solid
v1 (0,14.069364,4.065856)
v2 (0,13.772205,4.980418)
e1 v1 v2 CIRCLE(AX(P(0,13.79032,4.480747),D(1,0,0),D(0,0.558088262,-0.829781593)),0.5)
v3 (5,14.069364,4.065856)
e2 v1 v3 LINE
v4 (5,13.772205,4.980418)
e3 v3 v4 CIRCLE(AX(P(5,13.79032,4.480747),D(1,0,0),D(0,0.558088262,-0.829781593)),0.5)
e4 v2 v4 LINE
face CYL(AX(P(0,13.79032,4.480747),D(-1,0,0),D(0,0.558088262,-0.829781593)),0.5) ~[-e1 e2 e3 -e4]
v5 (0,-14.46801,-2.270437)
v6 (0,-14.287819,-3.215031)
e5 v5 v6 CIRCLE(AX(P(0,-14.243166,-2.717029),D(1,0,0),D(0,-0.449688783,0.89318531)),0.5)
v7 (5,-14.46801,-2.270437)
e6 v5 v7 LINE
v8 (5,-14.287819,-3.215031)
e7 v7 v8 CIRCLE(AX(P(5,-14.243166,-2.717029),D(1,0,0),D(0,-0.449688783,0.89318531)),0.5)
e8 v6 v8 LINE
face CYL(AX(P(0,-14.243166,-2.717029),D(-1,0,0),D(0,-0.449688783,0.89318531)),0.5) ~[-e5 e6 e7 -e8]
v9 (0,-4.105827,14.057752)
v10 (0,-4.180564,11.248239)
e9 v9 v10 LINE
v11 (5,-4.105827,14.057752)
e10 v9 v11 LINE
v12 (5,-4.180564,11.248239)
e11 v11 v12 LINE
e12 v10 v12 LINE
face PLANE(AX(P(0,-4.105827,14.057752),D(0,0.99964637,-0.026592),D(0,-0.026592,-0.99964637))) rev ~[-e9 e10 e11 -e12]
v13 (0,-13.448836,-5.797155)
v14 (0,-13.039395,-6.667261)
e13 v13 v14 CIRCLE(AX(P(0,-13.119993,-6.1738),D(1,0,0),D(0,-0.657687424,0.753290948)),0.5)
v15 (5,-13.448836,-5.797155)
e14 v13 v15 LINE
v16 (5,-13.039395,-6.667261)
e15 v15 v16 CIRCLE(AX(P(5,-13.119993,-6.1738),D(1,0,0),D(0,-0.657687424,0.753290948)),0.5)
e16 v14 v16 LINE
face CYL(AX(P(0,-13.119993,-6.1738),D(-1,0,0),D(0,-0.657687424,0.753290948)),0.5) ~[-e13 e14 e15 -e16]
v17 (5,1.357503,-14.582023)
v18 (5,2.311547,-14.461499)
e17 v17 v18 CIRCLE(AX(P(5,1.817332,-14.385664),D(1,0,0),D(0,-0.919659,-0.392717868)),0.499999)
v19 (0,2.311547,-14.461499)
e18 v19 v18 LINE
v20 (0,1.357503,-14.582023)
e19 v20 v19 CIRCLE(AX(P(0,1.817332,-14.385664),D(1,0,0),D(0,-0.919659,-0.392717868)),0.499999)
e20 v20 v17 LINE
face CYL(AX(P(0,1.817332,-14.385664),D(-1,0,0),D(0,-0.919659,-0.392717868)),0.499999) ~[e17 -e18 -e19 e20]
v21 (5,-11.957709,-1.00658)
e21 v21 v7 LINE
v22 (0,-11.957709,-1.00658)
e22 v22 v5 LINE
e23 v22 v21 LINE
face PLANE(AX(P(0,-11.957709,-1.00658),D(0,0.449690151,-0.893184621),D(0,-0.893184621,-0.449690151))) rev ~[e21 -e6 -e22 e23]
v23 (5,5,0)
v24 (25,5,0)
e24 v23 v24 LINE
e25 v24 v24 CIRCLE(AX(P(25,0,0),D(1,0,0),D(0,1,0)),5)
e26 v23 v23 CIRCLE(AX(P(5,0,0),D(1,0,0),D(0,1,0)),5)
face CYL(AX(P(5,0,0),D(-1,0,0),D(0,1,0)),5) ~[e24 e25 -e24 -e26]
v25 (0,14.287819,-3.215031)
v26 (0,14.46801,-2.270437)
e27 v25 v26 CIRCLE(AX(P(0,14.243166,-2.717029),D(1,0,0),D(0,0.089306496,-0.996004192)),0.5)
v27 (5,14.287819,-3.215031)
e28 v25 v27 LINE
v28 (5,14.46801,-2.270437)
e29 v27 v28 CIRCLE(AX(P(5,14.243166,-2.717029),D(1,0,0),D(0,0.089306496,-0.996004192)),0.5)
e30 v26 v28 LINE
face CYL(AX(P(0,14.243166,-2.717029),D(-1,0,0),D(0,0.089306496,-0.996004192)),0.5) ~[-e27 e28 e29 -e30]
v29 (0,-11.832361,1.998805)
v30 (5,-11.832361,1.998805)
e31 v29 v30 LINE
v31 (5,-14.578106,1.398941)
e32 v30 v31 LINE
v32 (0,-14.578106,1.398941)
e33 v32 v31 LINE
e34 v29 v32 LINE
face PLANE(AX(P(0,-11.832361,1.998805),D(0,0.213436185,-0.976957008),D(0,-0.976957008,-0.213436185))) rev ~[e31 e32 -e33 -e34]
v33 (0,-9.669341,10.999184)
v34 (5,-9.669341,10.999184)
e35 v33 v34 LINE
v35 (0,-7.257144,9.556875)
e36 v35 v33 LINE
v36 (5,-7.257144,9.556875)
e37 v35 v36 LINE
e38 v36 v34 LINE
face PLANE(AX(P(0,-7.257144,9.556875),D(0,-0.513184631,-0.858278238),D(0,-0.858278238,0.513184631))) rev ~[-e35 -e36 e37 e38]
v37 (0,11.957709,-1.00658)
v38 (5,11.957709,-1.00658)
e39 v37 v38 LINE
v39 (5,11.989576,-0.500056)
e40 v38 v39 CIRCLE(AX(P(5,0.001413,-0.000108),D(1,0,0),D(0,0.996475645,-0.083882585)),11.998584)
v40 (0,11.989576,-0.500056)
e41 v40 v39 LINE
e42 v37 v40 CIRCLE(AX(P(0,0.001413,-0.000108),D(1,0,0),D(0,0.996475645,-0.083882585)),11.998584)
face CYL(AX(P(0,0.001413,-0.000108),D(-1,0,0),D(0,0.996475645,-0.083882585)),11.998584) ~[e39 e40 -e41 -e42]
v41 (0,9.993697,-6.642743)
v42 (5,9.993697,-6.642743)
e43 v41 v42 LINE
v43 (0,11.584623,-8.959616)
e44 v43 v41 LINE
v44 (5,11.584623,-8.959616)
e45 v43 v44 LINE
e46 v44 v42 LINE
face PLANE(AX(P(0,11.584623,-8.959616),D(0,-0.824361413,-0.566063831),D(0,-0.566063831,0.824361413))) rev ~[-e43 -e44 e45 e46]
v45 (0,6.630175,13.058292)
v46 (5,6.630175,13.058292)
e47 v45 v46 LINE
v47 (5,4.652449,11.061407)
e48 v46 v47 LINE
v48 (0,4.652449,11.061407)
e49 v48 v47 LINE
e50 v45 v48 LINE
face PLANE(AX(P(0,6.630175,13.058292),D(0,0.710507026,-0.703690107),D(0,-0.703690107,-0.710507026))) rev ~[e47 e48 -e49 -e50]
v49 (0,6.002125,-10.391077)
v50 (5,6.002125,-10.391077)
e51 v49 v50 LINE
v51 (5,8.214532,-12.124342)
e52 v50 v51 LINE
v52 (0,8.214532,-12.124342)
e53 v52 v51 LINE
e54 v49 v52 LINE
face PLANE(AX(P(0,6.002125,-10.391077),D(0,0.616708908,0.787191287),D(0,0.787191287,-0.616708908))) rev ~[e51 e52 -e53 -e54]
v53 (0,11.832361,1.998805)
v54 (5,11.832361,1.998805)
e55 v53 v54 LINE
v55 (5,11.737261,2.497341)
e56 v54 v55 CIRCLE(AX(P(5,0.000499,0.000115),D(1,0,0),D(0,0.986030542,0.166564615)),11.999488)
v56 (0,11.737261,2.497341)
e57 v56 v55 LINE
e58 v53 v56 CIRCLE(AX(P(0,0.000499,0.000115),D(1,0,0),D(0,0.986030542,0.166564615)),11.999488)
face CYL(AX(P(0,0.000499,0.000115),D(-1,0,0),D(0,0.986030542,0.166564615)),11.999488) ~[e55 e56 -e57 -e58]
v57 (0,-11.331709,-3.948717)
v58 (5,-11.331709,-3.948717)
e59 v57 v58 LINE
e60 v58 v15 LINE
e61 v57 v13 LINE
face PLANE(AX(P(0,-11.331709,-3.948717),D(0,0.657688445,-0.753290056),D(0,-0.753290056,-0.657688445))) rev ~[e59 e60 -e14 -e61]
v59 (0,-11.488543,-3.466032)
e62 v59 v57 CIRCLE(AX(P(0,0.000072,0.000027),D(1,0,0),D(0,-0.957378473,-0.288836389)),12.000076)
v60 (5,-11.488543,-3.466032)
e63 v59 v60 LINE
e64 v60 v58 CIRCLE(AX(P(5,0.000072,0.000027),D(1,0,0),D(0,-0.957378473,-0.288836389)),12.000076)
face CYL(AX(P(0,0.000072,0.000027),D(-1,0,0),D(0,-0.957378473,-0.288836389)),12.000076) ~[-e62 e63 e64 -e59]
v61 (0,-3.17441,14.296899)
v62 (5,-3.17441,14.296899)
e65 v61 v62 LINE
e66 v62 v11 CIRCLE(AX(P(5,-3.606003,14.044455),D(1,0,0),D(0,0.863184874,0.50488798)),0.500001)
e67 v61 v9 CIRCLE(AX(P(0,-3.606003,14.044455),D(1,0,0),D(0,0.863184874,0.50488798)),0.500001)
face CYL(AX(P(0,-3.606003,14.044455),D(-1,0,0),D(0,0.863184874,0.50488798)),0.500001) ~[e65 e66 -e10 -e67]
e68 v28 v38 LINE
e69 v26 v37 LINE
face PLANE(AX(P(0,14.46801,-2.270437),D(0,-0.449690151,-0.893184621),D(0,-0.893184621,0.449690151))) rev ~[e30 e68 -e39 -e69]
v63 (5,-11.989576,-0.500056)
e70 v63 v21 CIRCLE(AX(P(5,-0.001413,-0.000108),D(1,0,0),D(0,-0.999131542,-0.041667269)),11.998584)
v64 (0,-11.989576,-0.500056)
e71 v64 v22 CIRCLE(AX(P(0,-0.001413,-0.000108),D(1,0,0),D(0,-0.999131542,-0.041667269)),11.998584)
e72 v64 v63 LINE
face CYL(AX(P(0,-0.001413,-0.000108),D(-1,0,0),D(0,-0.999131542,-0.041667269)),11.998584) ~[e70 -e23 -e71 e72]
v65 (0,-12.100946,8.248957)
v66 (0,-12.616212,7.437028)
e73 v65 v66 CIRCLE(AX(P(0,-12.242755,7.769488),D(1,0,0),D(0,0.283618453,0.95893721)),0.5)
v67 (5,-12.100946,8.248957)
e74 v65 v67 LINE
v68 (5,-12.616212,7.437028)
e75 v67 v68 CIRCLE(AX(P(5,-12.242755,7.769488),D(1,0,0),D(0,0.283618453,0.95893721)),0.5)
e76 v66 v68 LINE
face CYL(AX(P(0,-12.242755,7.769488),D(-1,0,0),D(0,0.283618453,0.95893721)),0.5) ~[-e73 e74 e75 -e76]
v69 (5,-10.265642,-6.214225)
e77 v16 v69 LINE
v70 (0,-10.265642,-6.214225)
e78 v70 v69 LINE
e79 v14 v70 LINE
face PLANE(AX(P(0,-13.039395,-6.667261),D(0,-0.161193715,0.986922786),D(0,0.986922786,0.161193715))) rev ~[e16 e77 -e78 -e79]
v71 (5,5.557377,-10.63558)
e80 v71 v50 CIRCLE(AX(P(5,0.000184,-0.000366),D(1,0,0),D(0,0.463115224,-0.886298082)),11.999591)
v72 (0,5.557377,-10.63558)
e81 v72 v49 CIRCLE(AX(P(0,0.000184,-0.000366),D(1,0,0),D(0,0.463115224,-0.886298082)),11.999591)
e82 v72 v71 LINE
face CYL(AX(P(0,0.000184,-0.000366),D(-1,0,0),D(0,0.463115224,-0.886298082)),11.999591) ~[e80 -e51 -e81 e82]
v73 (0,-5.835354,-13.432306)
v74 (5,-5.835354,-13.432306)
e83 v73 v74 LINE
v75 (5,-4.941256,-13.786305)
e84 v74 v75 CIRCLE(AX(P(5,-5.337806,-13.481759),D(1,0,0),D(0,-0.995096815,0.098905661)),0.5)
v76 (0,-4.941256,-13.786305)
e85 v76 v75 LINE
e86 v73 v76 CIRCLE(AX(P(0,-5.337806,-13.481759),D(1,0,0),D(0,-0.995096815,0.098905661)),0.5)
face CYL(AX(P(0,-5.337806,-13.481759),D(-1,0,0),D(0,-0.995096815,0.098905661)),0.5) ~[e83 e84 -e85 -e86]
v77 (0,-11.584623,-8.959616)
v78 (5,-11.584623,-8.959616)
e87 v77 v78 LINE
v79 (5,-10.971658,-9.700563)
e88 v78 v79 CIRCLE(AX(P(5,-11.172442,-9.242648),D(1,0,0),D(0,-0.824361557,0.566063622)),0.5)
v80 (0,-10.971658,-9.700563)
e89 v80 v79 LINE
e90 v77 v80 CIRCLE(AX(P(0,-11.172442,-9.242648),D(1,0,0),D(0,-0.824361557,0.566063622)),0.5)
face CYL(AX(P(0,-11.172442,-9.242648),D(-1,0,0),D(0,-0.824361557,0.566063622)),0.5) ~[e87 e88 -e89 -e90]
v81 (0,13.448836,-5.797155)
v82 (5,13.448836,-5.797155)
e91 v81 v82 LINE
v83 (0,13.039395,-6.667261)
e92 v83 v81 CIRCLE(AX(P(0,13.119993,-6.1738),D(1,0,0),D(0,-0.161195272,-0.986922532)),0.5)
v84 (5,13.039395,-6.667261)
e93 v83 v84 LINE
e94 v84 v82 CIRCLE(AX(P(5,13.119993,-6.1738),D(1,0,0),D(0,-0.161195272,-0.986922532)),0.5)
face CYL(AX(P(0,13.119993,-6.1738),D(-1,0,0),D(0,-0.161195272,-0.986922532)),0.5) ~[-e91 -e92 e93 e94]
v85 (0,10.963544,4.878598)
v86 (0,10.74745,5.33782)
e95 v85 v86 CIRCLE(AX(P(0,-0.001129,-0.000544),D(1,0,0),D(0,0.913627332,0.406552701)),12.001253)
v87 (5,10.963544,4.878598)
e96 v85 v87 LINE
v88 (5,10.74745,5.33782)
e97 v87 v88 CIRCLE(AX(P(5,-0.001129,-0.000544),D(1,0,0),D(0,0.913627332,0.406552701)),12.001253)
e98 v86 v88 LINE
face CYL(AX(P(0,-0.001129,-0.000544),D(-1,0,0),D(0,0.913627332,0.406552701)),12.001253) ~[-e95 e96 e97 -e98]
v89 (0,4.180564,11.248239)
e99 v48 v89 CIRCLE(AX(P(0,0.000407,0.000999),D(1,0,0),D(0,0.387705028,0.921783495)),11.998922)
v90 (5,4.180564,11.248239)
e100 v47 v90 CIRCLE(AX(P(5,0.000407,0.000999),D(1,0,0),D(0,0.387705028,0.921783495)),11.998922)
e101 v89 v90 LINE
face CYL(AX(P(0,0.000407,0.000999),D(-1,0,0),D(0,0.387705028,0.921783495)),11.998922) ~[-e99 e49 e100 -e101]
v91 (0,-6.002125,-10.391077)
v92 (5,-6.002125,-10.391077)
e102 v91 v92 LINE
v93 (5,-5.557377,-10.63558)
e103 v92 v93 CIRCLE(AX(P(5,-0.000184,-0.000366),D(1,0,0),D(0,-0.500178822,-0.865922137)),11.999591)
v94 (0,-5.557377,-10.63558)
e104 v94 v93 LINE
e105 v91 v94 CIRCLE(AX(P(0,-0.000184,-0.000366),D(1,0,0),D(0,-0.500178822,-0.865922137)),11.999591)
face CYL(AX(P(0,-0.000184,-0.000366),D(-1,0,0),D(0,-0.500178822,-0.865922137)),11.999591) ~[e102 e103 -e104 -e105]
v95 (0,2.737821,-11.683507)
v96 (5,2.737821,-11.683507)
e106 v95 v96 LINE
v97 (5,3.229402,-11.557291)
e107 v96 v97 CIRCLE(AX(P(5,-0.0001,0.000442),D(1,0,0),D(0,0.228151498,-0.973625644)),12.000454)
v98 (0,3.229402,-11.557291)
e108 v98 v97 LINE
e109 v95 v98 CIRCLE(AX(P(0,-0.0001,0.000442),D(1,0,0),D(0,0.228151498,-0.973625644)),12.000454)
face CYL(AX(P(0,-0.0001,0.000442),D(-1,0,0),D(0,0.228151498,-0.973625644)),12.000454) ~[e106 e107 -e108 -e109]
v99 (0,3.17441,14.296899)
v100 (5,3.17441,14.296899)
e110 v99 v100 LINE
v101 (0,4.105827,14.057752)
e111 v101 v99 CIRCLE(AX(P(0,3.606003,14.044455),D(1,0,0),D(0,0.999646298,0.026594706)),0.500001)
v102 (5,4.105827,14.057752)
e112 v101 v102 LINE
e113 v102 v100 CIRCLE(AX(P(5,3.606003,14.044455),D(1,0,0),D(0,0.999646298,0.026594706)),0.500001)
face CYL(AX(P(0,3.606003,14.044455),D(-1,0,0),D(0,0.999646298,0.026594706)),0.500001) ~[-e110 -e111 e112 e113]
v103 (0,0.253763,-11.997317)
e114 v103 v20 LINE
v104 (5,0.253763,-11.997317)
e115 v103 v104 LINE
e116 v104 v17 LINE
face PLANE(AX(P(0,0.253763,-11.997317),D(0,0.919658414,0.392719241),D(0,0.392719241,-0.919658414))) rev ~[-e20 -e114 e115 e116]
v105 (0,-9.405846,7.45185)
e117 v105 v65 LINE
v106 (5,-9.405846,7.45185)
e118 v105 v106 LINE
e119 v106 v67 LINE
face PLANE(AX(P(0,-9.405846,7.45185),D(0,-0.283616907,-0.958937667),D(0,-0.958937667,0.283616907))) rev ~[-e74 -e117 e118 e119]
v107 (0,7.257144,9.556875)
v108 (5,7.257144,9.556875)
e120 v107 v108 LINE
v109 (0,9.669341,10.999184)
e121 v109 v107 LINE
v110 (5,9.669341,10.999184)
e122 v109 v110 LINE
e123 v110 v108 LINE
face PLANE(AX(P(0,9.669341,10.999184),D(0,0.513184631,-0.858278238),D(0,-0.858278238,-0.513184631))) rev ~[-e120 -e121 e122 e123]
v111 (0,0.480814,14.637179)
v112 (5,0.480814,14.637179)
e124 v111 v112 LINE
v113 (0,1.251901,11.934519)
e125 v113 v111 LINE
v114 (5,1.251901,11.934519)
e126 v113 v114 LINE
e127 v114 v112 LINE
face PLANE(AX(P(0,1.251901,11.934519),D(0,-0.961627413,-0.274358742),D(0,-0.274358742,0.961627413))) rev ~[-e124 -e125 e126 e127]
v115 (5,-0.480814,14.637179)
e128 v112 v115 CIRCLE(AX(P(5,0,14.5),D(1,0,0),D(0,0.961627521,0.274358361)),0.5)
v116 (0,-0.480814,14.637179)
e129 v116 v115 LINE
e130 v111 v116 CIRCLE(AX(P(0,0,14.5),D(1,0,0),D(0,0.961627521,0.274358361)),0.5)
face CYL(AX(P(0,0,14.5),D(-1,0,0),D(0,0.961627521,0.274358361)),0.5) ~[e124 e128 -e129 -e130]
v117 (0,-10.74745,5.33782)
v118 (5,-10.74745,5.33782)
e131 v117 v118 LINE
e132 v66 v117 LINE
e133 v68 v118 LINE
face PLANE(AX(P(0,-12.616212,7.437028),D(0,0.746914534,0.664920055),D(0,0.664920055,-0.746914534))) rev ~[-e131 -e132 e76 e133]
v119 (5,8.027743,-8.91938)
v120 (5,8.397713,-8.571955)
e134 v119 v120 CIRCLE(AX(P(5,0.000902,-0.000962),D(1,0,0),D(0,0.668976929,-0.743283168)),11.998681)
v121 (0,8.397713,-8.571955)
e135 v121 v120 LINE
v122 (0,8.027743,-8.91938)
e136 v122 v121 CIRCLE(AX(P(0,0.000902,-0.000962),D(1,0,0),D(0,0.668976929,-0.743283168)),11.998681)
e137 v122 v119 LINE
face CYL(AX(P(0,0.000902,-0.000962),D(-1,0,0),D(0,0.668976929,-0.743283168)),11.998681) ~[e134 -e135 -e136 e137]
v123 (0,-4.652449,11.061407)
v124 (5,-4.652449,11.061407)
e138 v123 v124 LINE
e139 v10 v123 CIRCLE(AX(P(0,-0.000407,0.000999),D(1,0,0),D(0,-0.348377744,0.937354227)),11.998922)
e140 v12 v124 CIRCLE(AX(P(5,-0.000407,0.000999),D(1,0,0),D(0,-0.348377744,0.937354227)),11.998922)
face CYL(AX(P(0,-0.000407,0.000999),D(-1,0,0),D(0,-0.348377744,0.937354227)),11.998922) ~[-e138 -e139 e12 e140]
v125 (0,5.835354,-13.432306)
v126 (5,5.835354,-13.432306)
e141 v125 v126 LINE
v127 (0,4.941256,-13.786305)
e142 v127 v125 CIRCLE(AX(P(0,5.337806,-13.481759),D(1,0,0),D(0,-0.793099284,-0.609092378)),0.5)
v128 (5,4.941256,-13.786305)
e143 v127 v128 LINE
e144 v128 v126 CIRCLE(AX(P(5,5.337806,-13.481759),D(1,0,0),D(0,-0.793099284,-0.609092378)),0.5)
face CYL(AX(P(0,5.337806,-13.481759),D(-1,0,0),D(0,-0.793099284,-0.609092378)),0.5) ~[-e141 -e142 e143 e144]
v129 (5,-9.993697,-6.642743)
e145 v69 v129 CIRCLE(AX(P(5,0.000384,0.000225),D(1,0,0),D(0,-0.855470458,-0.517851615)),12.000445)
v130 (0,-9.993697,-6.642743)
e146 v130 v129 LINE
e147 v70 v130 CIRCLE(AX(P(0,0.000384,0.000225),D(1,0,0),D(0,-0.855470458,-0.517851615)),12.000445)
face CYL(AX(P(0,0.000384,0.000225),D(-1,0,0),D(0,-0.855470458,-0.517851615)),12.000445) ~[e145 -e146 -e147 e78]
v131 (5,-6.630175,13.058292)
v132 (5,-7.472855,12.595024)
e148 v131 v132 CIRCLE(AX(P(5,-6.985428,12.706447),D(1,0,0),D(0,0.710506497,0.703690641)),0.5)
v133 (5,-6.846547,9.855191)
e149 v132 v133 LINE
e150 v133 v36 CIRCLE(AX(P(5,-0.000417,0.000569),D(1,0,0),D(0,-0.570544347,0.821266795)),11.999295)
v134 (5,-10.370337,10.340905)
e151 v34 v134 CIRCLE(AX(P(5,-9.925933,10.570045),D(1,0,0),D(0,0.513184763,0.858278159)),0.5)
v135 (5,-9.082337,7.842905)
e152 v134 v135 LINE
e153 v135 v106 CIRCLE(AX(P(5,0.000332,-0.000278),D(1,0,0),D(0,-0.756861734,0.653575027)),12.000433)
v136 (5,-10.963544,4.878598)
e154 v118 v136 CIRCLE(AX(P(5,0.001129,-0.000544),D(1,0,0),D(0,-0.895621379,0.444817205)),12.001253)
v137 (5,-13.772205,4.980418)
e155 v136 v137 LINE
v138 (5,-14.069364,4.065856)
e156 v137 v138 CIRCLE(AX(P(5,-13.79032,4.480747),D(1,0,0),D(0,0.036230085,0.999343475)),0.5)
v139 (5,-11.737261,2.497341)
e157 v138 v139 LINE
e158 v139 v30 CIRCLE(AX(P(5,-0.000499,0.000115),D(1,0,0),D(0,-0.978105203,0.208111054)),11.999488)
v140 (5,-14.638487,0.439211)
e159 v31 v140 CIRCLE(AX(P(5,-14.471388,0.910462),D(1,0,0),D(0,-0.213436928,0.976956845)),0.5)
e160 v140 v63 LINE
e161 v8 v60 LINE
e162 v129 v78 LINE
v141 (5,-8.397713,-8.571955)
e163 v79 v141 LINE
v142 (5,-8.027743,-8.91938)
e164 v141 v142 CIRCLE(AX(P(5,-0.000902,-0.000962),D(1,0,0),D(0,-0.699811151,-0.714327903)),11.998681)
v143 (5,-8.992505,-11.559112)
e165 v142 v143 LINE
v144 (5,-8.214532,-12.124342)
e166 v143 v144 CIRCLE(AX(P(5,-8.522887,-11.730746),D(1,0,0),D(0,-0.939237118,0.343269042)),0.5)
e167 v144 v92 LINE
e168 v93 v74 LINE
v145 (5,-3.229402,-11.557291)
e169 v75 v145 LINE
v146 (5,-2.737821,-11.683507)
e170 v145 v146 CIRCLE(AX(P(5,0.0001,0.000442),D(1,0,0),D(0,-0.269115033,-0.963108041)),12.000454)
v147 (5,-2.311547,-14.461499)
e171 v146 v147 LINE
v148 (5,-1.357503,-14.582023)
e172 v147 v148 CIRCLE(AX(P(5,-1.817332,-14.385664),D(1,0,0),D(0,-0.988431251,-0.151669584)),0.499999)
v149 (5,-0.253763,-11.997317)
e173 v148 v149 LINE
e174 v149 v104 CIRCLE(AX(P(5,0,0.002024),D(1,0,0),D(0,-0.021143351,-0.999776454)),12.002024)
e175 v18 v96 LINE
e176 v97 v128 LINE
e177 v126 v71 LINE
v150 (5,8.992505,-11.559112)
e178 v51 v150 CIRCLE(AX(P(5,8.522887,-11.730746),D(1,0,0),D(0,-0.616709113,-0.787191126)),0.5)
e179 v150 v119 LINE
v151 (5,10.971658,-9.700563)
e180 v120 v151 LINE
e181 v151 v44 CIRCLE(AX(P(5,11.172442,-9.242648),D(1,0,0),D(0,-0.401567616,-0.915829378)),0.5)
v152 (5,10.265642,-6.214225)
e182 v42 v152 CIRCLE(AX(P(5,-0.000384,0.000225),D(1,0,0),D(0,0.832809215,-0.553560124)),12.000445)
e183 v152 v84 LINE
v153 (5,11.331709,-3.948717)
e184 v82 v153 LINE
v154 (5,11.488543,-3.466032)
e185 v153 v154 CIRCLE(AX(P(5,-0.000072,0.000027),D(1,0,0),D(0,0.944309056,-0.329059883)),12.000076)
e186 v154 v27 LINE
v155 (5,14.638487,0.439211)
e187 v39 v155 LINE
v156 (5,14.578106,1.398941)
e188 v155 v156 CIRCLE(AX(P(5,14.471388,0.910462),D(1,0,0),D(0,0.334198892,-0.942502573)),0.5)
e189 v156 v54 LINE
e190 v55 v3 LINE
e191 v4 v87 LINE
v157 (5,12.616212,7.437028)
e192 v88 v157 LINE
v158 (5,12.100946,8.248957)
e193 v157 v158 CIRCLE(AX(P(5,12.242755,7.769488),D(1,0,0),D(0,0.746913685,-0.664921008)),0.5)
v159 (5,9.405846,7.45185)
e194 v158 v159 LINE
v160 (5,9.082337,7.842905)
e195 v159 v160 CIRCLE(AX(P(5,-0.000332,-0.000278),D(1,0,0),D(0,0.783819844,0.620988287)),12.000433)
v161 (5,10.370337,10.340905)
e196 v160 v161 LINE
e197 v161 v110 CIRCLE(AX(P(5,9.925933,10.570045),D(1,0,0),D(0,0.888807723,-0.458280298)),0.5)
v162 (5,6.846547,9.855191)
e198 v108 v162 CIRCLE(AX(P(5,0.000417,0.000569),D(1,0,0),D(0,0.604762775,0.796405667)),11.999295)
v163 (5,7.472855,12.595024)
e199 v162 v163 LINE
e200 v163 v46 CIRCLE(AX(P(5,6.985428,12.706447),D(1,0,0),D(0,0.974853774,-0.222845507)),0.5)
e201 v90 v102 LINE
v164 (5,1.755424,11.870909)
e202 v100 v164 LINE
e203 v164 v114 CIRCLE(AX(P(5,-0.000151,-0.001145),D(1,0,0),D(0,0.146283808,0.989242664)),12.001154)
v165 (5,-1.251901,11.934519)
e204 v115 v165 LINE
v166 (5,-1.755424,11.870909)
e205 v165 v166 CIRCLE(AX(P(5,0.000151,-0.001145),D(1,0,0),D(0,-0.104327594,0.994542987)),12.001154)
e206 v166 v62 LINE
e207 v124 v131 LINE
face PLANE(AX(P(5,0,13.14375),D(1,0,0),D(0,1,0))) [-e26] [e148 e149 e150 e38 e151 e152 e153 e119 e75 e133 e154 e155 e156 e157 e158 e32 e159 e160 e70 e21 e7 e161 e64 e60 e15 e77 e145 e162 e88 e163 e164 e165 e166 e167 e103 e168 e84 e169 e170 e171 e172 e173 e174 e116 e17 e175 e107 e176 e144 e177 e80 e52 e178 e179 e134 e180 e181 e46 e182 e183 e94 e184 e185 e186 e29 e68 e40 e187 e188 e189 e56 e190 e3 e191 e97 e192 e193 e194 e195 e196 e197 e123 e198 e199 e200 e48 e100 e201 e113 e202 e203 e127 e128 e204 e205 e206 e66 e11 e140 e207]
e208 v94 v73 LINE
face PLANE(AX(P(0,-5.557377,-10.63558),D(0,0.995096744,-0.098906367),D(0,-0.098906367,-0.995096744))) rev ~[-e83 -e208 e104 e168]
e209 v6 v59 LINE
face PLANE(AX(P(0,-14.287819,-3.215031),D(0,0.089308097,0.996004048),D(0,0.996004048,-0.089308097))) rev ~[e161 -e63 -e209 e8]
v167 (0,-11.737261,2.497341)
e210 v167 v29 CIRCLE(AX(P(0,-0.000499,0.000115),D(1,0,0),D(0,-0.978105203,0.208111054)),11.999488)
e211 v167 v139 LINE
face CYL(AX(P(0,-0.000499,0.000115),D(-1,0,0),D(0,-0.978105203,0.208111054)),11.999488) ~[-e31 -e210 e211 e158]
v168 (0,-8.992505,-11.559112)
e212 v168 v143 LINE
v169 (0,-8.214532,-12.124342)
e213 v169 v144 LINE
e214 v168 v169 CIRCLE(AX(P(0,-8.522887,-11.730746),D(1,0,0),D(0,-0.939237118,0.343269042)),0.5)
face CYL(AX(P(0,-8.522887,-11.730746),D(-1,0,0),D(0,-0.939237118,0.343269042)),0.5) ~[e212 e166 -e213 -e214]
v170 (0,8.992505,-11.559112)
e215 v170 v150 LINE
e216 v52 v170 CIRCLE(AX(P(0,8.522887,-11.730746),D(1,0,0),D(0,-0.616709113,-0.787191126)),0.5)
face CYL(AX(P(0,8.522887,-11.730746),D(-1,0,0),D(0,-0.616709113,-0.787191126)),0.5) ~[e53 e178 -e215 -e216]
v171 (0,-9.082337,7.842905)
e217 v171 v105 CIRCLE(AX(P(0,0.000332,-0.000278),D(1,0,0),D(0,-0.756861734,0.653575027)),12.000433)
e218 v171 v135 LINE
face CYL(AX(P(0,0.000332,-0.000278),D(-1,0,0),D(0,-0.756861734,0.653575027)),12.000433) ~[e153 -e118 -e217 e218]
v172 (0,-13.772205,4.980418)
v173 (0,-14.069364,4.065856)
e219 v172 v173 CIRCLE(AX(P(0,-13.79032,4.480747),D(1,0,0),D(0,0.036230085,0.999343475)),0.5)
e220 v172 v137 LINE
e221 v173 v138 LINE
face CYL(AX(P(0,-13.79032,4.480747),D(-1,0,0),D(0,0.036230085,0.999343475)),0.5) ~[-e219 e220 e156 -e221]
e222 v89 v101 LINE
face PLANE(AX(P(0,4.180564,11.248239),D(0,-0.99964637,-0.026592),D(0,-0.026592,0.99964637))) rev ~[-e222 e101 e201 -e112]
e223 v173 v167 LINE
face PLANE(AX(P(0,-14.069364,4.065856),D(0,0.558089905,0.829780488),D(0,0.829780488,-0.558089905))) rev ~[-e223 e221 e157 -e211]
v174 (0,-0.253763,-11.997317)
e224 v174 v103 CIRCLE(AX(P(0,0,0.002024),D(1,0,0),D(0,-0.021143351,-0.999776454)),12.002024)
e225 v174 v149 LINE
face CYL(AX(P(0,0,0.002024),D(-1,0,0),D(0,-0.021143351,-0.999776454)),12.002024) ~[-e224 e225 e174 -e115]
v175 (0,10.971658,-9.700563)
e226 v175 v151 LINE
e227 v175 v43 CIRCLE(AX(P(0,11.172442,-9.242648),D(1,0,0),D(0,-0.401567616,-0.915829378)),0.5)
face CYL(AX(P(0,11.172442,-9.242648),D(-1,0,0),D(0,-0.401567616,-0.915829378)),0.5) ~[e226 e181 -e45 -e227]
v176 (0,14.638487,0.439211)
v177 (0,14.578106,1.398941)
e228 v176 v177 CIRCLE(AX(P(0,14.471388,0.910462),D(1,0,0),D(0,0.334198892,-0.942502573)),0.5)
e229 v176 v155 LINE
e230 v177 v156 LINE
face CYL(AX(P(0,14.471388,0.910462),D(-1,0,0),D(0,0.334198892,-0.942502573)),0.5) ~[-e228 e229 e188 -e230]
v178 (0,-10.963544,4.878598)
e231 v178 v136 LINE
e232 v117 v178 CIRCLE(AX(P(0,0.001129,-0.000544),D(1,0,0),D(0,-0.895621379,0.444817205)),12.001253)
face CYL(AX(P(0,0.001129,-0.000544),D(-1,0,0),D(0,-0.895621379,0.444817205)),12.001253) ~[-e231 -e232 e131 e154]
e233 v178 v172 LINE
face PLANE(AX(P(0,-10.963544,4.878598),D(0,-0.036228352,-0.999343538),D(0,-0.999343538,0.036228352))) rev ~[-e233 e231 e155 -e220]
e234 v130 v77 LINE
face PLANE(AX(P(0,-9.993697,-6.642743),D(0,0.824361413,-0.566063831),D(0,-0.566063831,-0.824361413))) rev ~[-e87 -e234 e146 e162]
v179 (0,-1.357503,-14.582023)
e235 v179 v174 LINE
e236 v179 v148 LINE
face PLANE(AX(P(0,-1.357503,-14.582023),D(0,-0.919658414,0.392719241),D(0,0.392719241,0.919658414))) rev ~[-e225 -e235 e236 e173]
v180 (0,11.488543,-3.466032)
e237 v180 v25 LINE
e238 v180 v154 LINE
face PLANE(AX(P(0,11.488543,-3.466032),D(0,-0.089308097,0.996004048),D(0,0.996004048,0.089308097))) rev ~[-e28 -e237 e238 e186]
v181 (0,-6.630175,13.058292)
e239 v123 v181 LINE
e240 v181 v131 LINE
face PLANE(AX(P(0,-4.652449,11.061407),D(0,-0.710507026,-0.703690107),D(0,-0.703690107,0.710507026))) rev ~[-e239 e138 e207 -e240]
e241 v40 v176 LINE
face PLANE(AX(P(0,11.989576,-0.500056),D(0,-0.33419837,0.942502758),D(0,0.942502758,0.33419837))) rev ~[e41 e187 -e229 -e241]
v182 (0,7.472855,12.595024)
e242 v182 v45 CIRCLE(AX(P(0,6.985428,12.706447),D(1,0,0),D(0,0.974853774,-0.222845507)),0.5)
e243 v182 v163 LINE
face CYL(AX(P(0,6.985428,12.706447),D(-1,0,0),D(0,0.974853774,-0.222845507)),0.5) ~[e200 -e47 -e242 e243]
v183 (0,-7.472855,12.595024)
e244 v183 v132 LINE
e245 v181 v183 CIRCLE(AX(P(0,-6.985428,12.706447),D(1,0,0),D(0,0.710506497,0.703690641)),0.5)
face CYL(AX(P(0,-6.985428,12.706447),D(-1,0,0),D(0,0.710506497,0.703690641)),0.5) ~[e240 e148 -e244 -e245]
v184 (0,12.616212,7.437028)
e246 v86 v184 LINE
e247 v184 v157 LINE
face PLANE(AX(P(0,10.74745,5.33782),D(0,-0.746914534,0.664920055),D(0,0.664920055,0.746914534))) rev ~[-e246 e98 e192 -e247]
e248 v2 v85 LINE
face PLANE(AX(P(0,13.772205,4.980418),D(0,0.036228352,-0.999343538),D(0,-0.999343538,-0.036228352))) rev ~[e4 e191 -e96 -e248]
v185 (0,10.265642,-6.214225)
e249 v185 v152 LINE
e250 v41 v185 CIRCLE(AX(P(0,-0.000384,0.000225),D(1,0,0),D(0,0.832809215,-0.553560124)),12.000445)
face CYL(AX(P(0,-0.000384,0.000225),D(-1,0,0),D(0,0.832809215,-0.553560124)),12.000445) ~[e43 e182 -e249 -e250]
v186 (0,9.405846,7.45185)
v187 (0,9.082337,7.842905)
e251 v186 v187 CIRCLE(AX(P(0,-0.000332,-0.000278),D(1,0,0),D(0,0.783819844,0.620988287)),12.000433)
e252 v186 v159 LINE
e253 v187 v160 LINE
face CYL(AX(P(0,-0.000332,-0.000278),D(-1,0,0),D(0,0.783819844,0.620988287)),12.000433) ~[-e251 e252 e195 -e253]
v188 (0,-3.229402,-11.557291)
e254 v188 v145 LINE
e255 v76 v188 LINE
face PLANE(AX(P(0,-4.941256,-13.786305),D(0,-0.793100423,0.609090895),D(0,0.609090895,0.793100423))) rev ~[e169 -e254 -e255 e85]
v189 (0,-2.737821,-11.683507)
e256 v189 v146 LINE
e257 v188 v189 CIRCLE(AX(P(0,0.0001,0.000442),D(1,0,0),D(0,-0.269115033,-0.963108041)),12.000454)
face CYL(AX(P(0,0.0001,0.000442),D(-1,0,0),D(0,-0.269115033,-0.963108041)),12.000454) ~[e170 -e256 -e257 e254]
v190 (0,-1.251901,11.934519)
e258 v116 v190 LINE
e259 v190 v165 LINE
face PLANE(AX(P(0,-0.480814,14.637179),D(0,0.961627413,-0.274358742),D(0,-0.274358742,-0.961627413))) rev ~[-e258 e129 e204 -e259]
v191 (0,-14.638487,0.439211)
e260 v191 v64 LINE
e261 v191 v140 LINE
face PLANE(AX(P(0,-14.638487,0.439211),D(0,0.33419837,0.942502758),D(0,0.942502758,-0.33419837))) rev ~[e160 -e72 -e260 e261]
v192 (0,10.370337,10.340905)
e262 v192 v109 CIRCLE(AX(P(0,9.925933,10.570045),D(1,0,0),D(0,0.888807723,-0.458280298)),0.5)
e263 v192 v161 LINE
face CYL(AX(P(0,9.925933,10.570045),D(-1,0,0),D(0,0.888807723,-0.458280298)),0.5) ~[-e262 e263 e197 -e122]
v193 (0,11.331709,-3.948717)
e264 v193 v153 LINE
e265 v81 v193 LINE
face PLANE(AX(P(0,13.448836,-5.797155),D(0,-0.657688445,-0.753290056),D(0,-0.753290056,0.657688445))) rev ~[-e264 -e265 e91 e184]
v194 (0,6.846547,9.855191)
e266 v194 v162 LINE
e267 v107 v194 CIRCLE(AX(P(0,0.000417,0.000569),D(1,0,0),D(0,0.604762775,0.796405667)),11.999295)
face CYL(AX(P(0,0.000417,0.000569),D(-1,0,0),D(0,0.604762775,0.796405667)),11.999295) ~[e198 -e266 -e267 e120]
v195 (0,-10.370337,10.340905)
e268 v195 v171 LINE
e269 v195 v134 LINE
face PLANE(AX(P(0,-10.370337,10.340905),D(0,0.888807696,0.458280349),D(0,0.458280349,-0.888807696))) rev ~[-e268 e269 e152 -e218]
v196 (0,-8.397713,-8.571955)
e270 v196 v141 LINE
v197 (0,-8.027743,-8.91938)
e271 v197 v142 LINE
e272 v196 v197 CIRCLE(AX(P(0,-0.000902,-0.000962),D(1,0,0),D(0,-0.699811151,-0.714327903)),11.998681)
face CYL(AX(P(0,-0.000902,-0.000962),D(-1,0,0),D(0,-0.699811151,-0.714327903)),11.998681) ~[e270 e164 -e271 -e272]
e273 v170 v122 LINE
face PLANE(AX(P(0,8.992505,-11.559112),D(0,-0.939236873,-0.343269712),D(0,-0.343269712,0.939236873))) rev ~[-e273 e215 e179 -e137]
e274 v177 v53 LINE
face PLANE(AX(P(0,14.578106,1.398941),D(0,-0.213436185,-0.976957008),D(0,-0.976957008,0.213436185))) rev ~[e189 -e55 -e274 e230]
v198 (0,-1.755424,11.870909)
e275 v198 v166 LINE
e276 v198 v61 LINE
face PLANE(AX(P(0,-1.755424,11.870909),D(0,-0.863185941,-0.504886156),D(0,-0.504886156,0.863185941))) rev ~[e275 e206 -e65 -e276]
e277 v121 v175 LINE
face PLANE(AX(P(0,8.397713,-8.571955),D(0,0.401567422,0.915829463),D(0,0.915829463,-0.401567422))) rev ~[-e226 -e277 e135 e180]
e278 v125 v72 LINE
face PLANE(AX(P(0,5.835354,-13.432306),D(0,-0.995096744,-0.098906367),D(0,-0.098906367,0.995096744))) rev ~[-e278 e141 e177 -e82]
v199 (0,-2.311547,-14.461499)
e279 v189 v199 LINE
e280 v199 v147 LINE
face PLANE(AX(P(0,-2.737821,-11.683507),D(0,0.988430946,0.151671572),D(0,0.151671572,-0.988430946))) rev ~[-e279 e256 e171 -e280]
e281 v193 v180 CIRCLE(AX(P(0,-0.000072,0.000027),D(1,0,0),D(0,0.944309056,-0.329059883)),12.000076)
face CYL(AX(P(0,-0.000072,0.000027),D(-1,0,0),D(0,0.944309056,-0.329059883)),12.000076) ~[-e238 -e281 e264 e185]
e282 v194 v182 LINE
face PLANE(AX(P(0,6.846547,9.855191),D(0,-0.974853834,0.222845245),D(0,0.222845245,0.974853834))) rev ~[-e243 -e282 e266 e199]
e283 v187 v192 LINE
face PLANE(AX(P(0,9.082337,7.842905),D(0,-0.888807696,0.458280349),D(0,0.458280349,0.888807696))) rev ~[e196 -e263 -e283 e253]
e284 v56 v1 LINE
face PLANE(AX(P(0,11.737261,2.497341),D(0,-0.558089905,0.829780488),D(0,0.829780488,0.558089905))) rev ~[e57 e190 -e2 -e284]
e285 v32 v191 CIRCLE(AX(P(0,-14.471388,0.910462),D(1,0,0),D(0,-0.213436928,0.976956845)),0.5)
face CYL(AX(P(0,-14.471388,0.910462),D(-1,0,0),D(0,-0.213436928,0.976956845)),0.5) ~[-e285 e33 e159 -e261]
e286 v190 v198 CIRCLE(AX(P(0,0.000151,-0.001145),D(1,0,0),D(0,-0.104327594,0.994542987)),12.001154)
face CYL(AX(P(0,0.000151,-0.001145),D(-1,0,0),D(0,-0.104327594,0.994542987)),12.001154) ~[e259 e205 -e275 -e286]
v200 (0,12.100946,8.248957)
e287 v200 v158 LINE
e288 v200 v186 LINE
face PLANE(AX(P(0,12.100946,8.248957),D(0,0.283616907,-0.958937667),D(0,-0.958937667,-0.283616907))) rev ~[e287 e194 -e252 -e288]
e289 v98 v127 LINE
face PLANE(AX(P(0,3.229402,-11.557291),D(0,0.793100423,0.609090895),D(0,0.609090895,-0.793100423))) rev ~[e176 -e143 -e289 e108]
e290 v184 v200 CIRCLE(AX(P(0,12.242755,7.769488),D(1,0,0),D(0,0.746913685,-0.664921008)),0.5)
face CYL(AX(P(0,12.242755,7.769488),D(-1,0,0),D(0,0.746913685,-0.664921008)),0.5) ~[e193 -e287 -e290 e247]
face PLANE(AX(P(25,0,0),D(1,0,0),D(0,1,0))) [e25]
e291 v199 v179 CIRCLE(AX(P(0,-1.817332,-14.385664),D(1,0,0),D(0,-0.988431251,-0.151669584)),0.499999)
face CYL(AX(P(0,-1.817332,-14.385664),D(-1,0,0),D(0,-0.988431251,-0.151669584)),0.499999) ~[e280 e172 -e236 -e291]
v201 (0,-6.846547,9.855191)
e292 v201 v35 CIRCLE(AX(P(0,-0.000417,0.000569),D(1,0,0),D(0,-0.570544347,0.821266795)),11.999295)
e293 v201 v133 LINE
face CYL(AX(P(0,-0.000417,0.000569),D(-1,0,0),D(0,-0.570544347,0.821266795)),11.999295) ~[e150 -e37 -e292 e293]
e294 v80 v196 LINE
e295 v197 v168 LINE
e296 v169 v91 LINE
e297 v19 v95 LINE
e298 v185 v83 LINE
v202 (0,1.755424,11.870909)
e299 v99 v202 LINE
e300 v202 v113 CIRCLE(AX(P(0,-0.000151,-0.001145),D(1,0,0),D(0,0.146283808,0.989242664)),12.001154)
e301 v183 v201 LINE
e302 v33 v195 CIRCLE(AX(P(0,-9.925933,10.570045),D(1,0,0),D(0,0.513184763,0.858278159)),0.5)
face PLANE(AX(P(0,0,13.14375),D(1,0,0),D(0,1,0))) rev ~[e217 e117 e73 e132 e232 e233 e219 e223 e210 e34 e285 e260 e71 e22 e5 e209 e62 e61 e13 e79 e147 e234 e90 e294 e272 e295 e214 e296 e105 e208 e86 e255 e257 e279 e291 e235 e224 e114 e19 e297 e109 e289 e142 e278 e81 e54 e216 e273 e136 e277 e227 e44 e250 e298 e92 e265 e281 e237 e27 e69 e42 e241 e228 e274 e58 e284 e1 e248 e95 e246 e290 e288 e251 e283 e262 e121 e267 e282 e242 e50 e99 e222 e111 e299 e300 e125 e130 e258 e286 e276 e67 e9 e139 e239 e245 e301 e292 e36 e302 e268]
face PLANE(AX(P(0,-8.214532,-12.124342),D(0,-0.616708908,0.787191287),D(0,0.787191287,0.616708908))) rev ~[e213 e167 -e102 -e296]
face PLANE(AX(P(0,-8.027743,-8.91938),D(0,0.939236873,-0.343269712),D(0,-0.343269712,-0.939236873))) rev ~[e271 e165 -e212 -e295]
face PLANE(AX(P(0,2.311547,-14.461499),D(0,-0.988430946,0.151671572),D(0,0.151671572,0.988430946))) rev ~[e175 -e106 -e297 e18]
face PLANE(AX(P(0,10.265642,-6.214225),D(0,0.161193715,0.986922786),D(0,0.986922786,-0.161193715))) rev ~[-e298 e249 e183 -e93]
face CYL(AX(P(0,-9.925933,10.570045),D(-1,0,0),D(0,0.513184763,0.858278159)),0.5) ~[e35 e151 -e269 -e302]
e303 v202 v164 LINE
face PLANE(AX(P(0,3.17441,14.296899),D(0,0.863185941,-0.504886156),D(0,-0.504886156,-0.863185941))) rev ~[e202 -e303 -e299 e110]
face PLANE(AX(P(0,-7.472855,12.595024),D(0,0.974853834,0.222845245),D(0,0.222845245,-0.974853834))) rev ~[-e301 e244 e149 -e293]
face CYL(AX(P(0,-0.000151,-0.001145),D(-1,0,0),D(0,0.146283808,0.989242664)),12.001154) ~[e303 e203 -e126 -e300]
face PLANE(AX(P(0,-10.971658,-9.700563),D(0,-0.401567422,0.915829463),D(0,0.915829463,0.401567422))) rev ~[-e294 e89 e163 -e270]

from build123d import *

# Parameters (mm, degrees)
F1_DEPTH = 5
F2_R     = 5
F3_DEPTH = 20


with BuildPart() as f1:
    # F0 (on Right) → F1 (new body)
    with BuildSketch(Plane.YZ):
        with BuildLine():
            Line((1.251901, 11.934519), (0.480814, 14.637179))
            ThreePointArc((0.480814, 14.637179), (0, 15), (-0.480814, 14.637179))
            Line((-0.480814, 14.637179), (-1.251901, 11.934519))
            ThreePointArc((-1.251901, 11.934519), (0, 12), (1.251901, 11.934519))
        make_face()
        with BuildLine():
            ThreePointArc((1.755424, 11.870909), (1.503999, 11.905376), (1.251901, 11.934519))
            ThreePointArc((1.251901, 11.934519), (0, 12), (-1.251901, 11.934519))
            ThreePointArc((-1.251901, 11.934519), (-1.503999, 11.905376), (-1.755424, 11.870909))
            ThreePointArc((-1.755424, 11.870909), (-2.984279, 11.622998), (-4.180564, 11.248239))
            ThreePointArc((-4.180564, 11.248239), (-4.417495, 11.157318), (-4.652449, 11.061407))
            ThreePointArc((-4.652449, 11.061407), (-5.781044, 10.51568), (-6.846547, 9.855191))
            ThreePointArc((-6.846547, 9.855191), (-7.053423, 9.708204), (-7.257144, 9.556875))
            ThreePointArc((-7.257144, 9.556875), (-8.214565, 8.747624), (-9.082337, 7.842905))
            ThreePointArc((-9.082337, 7.842905), (-9.246159, 7.649088), (-9.405846, 7.45185))
            ThreePointArc((-9.405846, 7.45185), (-10.131935, 6.429922), (-10.74745, 5.33782))
            ThreePointArc((-10.74745, 5.33782), (-10.857925, 5.109351), (-10.963544, 4.878598))
            ThreePointArc((-10.963544, 4.878598), (-11.412678, 3.708204), (-11.737261, 2.497341))
            ThreePointArc((-11.737261, 2.497341), (-11.787447, 2.248576), (-11.832361, 1.998805))
            ThreePointArc((-11.832361, 1.998805), (-11.976321, 0.753486), (-11.989576, -0.500056))
            ThreePointArc((-11.989576, -0.500056), (-11.976321, -0.753486), (-11.957709, -1.00658))
            ThreePointArc((-11.957709, -1.00658), (-11.787447, -2.248576), (-11.488543, -3.466032))
            ThreePointArc((-11.488543, -3.466032), (-11.412678, -3.708204), (-11.331709, -3.948717))
            ThreePointArc((-11.331709, -3.948717), (-10.857925, -5.109351), (-10.265642, -6.214225))
            ThreePointArc((-10.265642, -6.214225), (-10.131935, -6.429922), (-9.993697, -6.642743))
            ThreePointArc((-9.993697, -6.642743), (-9.246159, -7.649088), (-8.397713, -8.571955))
            ThreePointArc((-8.397713, -8.571955), (-8.214565, -8.747624), (-8.027743, -8.91938))
            ThreePointArc((-8.027743, -8.91938), (-7.053423, -9.708204), (-6.002125, -10.391077))
            ThreePointArc((-6.002125, -10.391077), (-5.781044, -10.51568), (-5.557377, -10.63558))
            ThreePointArc((-5.557377, -10.63558), (-4.417495, -11.157318), (-3.229402, -11.557291))
            ThreePointArc((-3.229402, -11.557291), (-2.984279, -11.622998), (-2.737821, -11.683507))
            ThreePointArc((-2.737821, -11.683507), (-1.503999, -11.905376), (-0.253763, -11.997317))
            ThreePointArc((-0.253763, -11.997317), (0, -12), (0.253763, -11.997317))
            ThreePointArc((0.253763, -11.997317), (1.503999, -11.905376), (2.737821, -11.683507))
            ThreePointArc((2.737821, -11.683507), (2.984279, -11.622998), (3.229402, -11.557291))
            ThreePointArc((3.229402, -11.557291), (4.417495, -11.157318), (5.557377, -10.63558))
            ThreePointArc((5.557377, -10.63558), (5.781044, -10.51568), (6.002125, -10.391077))
            ThreePointArc((6.002125, -10.391077), (7.053423, -9.708204), (8.027743, -8.91938))
            ThreePointArc((8.027743, -8.91938), (8.214565, -8.747624), (8.397713, -8.571955))
            ThreePointArc((8.397713, -8.571955), (9.246159, -7.649088), (9.993697, -6.642743))
            ThreePointArc((9.993697, -6.642743), (10.131935, -6.429922), (10.265642, -6.214225))
            ThreePointArc((10.265642, -6.214225), (10.857925, -5.109351), (11.331709, -3.948717))
            ThreePointArc((11.331709, -3.948717), (11.412678, -3.708204), (11.488543, -3.466032))
            ThreePointArc((11.488543, -3.466032), (11.787447, -2.248576), (11.957709, -1.00658))
            ThreePointArc((11.957709, -1.00658), (11.976321, -0.753486), (11.989576, -0.500056))
            ThreePointArc((11.989576, -0.500056), (11.997394, -0.250082), (12, 0))
            ThreePointArc((12, 0), (11.958017, 1.002911), (11.832361, 1.998805))
            ThreePointArc((11.832361, 1.998805), (11.787447, 2.248576), (11.737261, 2.497341))
            ThreePointArc((11.737261, 2.497341), (11.412678, 3.708204), (10.963544, 4.878598))
            ThreePointArc((10.963544, 4.878598), (10.857925, 5.109351), (10.74745, 5.33782))
            ThreePointArc((10.74745, 5.33782), (10.131935, 6.429922), (9.405846, 7.45185))
            ThreePointArc((9.405846, 7.45185), (9.246159, 7.649088), (9.082337, 7.842905))
            ThreePointArc((9.082337, 7.842905), (8.214565, 8.747624), (7.257144, 9.556875))
            ThreePointArc((7.257144, 9.556875), (7.053423, 9.708204), (6.846547, 9.855191))
            ThreePointArc((6.846547, 9.855191), (5.781044, 10.51568), (4.652449, 11.061407))
            ThreePointArc((4.652449, 11.061407), (4.417495, 11.157318), (4.180564, 11.248239))
            ThreePointArc((4.180564, 11.248239), (2.984279, 11.622998), (1.755424, 11.870909))
        make_face()
        with BuildLine():
            Line((3.17441, 14.296899), (1.755424, 11.870909))
            ThreePointArc((1.755424, 11.870909), (2.984279, 11.622998), (4.180564, 11.248239))
            Line((4.180564, 11.248239), (4.105827, 14.057752))
            ThreePointArc((4.105827, 14.057752), (3.730348, 14.528747), (3.17441, 14.296899))
        make_face()
        with BuildLine():
            ThreePointArc((-4.180564, 11.248239), (-2.984279, 11.622998), (-1.755424, 11.870909))
            Line((-1.755424, 11.870909), (-3.17441, 14.296899))
            ThreePointArc((-3.17441, 14.296899), (-3.730348, 14.528747), (-4.105827, 14.057752))
            Line((-4.105827, 14.057752), (-4.180564, 11.248239))
        make_face()
        with BuildLine():
            Line((6.630175, 13.058292), (4.652449, 11.061407))
            ThreePointArc((4.652449, 11.061407), (5.781044, 10.51568), (6.846547, 9.855191))
            Line((6.846547, 9.855191), (7.472855, 12.595024))
            ThreePointArc((7.472855, 12.595024), (7.226305, 13.1446), (6.630175, 13.058292))
        make_face()
        with BuildLine():
            ThreePointArc((-6.846547, 9.855191), (-5.781044, 10.51568), (-4.652449, 11.061407))
            Line((-4.652449, 11.061407), (-6.630175, 13.058292))
            ThreePointArc((-6.630175, 13.058292), (-7.226305, 13.1446), (-7.472855, 12.595024))
            Line((-7.472855, 12.595024), (-6.846547, 9.855191))
        make_face()
        with BuildLine():
            Line((9.669341, 10.999184), (7.257144, 9.556875))
            ThreePointArc((7.257144, 9.556875), (8.214565, 8.747624), (9.082337, 7.842905))
            Line((9.082337, 7.842905), (10.370337, 10.340905))
            ThreePointArc((10.370337, 10.340905), (10.268207, 10.934529), (9.669341, 10.999184))
        make_face()
        with BuildLine():
            ThreePointArc((-9.082337, 7.842905), (-8.214565, 8.747624), (-7.257144, 9.556875))
            Line((-7.257144, 9.556875), (-9.669341, 10.999184))
            ThreePointArc((-9.669341, 10.999184), (-10.268207, 10.934529), (-10.370337, 10.340905))
            Line((-10.370337, 10.340905), (-9.082337, 7.842905))
        make_face()
        with BuildLine():
            Line((12.100946, 8.248957), (9.405846, 7.45185))
            ThreePointArc((9.405846, 7.45185), (10.131935, 6.429922), (10.74745, 5.33782))
            Line((10.74745, 5.33782), (12.616212, 7.437028))
            ThreePointArc((12.616212, 7.437028), (12.664919, 8.037402), (12.100946, 8.248957))
        make_face()
        with BuildLine():
            ThreePointArc((-10.74745, 5.33782), (-10.131935, 6.429922), (-9.405846, 7.45185))
            Line((-9.405846, 7.45185), (-12.100946, 8.248957))
            ThreePointArc((-12.100946, 8.248957), (-12.664919, 8.037402), (-12.616212, 7.437028))
            Line((-12.616212, 7.437028), (-10.74745, 5.33782))
        make_face()
        with BuildLine():
            Line((13.772205, 4.980418), (10.963544, 4.878598))
            ThreePointArc((10.963544, 4.878598), (11.412678, 3.708204), (11.737261, 2.497341))
            Line((11.737261, 2.497341), (14.069364, 4.065856))
            ThreePointArc((14.069364, 4.065856), (14.265848, 4.635255), (13.772205, 4.980418))
        make_face()
        with BuildLine():
            ThreePointArc((-11.737261, 2.497341), (-11.412678, 3.708204), (-10.963544, 4.878598))
            Line((-10.963544, 4.878598), (-13.772205, 4.980418))
            ThreePointArc((-13.772205, 4.980418), (-14.265848, 4.635255), (-14.069364, 4.065856))
            Line((-14.069364, 4.065856), (-11.737261, 2.497341))
        make_face()
        with BuildLine():
            Line((14.578106, 1.398941), (11.832361, 1.998805))
            ThreePointArc((11.832361, 1.998805), (11.958017, 1.002911), (12, 0))
            ThreePointArc((12, 0), (11.997394, -0.250082), (11.989576, -0.500056))
            Line((11.989576, -0.500056), (14.638487, 0.439211))
            ThreePointArc((14.638487, 0.439211), (14.970401, 0.941858), (14.578106, 1.398941))
        make_face()
        with BuildLine():
            ThreePointArc((-11.989576, -0.500056), (-11.976321, 0.753486), (-11.832361, 1.998805))
            Line((-11.832361, 1.998805), (-14.578106, 1.398941))
            ThreePointArc((-14.578106, 1.398941), (-14.970401, 0.941858), (-14.638487, 0.439211))
            Line((-14.638487, 0.439211), (-11.989576, -0.500056))
        make_face()
        with BuildLine():
            ThreePointArc((-11.488543, -3.466032), (-11.787447, -2.248576), (-11.957709, -1.00658))
            Line((-11.957709, -1.00658), (-14.46801, -2.270437))
            ThreePointArc((-14.46801, -2.270437), (-14.734309, -2.81072), (-14.287819, -3.215031))
            Line((-14.287819, -3.215031), (-11.488543, -3.466032))
        make_face()
        with BuildLine():
            Line((14.46801, -2.270437), (11.957709, -1.00658))
            ThreePointArc((11.957709, -1.00658), (11.787447, -2.248576), (11.488543, -3.466032))
            Line((11.488543, -3.466032), (14.287819, -3.215031))
            ThreePointArc((14.287819, -3.215031), (14.734309, -2.81072), (14.46801, -2.270437))
        make_face()
        with BuildLine():
            ThreePointArc((-10.265642, -6.214225), (-10.857925, -5.109351), (-11.331709, -3.948717))
            Line((-11.331709, -3.948717), (-13.448836, -5.797155))
            ThreePointArc((-13.448836, -5.797155), (-13.572406, -6.386689), (-13.039395, -6.667261))
            Line((-13.039395, -6.667261), (-10.265642, -6.214225))
        make_face()
        with BuildLine():
            Line((13.448836, -5.797155), (11.331709, -3.948717))
            ThreePointArc((11.331709, -3.948717), (10.857925, -5.109351), (10.265642, -6.214225))
            Line((10.265642, -6.214225), (13.039395, -6.667261))
            ThreePointArc((13.039395, -6.667261), (13.572406, -6.386689), (13.448836, -5.797155))
        make_face()
        with BuildLine():
            ThreePointArc((-8.397713, -8.571955), (-9.246159, -7.649088), (-9.993697, -6.642743))
            Line((-9.993697, -6.642743), (-11.584623, -8.959616))
            ThreePointArc((-11.584623, -8.959616), (-11.557699, -9.56136), (-10.971658, -9.700563))
            Line((-10.971658, -9.700563), (-8.397713, -8.571955))
        make_face()
        with BuildLine():
            Line((11.584623, -8.959616), (9.993697, -6.642743))
            ThreePointArc((9.993697, -6.642743), (9.246159, -7.649088), (8.397713, -8.571955))
            Line((8.397713, -8.571955), (10.971658, -9.700563))
            ThreePointArc((10.971658, -9.700563), (11.557699, -9.56136), (11.584623, -8.959616))
        make_face()
        with BuildLine():
            ThreePointArc((-6.002125, -10.391077), (-7.053423, -9.708204), (-8.027743, -8.91938))
            Line((-8.027743, -8.91938), (-8.992505, -11.559112))
            ThreePointArc((-8.992505, -11.559112), (-8.816779, -12.135255), (-8.214532, -12.124342))
            Line((-8.214532, -12.124342), (-6.002125, -10.391077))
        make_face()
        with BuildLine():
            Line((8.992505, -11.559112), (8.027743, -8.91938))
            ThreePointArc((8.027743, -8.91938), (7.053423, -9.708204), (6.002125, -10.391077))
            Line((6.002125, -10.391077), (8.214532, -12.124342))
            ThreePointArc((8.214532, -12.124342), (8.816779, -12.135255), (8.992505, -11.559112))
        make_face()
        with BuildLine():
            ThreePointArc((-3.229402, -11.557291), (-4.417495, -11.157318), (-5.557377, -10.63558))
            Line((-5.557377, -10.63558), (-5.835354, -13.432306))
            ThreePointArc((-5.835354, -13.432306), (-5.521868, -13.946647), (-4.941256, -13.786305))
            Line((-4.941256, -13.786305), (-3.229402, -11.557291))
        make_face()
        with BuildLine():
            Line((5.835354, -13.432306), (5.557377, -10.63558))
            ThreePointArc((5.557377, -10.63558), (4.417495, -11.157318), (3.229402, -11.557291))
            Line((3.229402, -11.557291), (4.941256, -13.786305))
            ThreePointArc((4.941256, -13.786305), (5.521868, -13.946647), (5.835354, -13.432306))
        make_face()
        with BuildLine():
            ThreePointArc((-0.253763, -11.997317), (-1.503999, -11.905376), (-2.737821, -11.683507))
            Line((-2.737821, -11.683507), (-2.311547, -14.461499))
            ThreePointArc((-2.311547, -14.461499), (-1.879999, -14.881721), (-1.357503, -14.582023))
            Line((-1.357503, -14.582023), (-0.253763, -11.997317))
        make_face()
        with BuildLine():
            Line((2.311547, -14.461499), (2.737821, -11.683507))
            ThreePointArc((2.737821, -11.683507), (1.503999, -11.905376), (0.253763, -11.997317))
            Line((0.253763, -11.997317), (1.357503, -14.582023))
            ThreePointArc((1.357503, -14.582023), (1.879999, -14.881721), (2.311547, -14.461499))
        make_face()
    extrude(amount=F1_DEPTH)

    # F2 (on face) → F3 (join)
    with BuildSketch(Plane.YZ.offset(5)):
        Circle(F2_R)
    extrude(amount=F3_DEPTH)


solid = f1.part
